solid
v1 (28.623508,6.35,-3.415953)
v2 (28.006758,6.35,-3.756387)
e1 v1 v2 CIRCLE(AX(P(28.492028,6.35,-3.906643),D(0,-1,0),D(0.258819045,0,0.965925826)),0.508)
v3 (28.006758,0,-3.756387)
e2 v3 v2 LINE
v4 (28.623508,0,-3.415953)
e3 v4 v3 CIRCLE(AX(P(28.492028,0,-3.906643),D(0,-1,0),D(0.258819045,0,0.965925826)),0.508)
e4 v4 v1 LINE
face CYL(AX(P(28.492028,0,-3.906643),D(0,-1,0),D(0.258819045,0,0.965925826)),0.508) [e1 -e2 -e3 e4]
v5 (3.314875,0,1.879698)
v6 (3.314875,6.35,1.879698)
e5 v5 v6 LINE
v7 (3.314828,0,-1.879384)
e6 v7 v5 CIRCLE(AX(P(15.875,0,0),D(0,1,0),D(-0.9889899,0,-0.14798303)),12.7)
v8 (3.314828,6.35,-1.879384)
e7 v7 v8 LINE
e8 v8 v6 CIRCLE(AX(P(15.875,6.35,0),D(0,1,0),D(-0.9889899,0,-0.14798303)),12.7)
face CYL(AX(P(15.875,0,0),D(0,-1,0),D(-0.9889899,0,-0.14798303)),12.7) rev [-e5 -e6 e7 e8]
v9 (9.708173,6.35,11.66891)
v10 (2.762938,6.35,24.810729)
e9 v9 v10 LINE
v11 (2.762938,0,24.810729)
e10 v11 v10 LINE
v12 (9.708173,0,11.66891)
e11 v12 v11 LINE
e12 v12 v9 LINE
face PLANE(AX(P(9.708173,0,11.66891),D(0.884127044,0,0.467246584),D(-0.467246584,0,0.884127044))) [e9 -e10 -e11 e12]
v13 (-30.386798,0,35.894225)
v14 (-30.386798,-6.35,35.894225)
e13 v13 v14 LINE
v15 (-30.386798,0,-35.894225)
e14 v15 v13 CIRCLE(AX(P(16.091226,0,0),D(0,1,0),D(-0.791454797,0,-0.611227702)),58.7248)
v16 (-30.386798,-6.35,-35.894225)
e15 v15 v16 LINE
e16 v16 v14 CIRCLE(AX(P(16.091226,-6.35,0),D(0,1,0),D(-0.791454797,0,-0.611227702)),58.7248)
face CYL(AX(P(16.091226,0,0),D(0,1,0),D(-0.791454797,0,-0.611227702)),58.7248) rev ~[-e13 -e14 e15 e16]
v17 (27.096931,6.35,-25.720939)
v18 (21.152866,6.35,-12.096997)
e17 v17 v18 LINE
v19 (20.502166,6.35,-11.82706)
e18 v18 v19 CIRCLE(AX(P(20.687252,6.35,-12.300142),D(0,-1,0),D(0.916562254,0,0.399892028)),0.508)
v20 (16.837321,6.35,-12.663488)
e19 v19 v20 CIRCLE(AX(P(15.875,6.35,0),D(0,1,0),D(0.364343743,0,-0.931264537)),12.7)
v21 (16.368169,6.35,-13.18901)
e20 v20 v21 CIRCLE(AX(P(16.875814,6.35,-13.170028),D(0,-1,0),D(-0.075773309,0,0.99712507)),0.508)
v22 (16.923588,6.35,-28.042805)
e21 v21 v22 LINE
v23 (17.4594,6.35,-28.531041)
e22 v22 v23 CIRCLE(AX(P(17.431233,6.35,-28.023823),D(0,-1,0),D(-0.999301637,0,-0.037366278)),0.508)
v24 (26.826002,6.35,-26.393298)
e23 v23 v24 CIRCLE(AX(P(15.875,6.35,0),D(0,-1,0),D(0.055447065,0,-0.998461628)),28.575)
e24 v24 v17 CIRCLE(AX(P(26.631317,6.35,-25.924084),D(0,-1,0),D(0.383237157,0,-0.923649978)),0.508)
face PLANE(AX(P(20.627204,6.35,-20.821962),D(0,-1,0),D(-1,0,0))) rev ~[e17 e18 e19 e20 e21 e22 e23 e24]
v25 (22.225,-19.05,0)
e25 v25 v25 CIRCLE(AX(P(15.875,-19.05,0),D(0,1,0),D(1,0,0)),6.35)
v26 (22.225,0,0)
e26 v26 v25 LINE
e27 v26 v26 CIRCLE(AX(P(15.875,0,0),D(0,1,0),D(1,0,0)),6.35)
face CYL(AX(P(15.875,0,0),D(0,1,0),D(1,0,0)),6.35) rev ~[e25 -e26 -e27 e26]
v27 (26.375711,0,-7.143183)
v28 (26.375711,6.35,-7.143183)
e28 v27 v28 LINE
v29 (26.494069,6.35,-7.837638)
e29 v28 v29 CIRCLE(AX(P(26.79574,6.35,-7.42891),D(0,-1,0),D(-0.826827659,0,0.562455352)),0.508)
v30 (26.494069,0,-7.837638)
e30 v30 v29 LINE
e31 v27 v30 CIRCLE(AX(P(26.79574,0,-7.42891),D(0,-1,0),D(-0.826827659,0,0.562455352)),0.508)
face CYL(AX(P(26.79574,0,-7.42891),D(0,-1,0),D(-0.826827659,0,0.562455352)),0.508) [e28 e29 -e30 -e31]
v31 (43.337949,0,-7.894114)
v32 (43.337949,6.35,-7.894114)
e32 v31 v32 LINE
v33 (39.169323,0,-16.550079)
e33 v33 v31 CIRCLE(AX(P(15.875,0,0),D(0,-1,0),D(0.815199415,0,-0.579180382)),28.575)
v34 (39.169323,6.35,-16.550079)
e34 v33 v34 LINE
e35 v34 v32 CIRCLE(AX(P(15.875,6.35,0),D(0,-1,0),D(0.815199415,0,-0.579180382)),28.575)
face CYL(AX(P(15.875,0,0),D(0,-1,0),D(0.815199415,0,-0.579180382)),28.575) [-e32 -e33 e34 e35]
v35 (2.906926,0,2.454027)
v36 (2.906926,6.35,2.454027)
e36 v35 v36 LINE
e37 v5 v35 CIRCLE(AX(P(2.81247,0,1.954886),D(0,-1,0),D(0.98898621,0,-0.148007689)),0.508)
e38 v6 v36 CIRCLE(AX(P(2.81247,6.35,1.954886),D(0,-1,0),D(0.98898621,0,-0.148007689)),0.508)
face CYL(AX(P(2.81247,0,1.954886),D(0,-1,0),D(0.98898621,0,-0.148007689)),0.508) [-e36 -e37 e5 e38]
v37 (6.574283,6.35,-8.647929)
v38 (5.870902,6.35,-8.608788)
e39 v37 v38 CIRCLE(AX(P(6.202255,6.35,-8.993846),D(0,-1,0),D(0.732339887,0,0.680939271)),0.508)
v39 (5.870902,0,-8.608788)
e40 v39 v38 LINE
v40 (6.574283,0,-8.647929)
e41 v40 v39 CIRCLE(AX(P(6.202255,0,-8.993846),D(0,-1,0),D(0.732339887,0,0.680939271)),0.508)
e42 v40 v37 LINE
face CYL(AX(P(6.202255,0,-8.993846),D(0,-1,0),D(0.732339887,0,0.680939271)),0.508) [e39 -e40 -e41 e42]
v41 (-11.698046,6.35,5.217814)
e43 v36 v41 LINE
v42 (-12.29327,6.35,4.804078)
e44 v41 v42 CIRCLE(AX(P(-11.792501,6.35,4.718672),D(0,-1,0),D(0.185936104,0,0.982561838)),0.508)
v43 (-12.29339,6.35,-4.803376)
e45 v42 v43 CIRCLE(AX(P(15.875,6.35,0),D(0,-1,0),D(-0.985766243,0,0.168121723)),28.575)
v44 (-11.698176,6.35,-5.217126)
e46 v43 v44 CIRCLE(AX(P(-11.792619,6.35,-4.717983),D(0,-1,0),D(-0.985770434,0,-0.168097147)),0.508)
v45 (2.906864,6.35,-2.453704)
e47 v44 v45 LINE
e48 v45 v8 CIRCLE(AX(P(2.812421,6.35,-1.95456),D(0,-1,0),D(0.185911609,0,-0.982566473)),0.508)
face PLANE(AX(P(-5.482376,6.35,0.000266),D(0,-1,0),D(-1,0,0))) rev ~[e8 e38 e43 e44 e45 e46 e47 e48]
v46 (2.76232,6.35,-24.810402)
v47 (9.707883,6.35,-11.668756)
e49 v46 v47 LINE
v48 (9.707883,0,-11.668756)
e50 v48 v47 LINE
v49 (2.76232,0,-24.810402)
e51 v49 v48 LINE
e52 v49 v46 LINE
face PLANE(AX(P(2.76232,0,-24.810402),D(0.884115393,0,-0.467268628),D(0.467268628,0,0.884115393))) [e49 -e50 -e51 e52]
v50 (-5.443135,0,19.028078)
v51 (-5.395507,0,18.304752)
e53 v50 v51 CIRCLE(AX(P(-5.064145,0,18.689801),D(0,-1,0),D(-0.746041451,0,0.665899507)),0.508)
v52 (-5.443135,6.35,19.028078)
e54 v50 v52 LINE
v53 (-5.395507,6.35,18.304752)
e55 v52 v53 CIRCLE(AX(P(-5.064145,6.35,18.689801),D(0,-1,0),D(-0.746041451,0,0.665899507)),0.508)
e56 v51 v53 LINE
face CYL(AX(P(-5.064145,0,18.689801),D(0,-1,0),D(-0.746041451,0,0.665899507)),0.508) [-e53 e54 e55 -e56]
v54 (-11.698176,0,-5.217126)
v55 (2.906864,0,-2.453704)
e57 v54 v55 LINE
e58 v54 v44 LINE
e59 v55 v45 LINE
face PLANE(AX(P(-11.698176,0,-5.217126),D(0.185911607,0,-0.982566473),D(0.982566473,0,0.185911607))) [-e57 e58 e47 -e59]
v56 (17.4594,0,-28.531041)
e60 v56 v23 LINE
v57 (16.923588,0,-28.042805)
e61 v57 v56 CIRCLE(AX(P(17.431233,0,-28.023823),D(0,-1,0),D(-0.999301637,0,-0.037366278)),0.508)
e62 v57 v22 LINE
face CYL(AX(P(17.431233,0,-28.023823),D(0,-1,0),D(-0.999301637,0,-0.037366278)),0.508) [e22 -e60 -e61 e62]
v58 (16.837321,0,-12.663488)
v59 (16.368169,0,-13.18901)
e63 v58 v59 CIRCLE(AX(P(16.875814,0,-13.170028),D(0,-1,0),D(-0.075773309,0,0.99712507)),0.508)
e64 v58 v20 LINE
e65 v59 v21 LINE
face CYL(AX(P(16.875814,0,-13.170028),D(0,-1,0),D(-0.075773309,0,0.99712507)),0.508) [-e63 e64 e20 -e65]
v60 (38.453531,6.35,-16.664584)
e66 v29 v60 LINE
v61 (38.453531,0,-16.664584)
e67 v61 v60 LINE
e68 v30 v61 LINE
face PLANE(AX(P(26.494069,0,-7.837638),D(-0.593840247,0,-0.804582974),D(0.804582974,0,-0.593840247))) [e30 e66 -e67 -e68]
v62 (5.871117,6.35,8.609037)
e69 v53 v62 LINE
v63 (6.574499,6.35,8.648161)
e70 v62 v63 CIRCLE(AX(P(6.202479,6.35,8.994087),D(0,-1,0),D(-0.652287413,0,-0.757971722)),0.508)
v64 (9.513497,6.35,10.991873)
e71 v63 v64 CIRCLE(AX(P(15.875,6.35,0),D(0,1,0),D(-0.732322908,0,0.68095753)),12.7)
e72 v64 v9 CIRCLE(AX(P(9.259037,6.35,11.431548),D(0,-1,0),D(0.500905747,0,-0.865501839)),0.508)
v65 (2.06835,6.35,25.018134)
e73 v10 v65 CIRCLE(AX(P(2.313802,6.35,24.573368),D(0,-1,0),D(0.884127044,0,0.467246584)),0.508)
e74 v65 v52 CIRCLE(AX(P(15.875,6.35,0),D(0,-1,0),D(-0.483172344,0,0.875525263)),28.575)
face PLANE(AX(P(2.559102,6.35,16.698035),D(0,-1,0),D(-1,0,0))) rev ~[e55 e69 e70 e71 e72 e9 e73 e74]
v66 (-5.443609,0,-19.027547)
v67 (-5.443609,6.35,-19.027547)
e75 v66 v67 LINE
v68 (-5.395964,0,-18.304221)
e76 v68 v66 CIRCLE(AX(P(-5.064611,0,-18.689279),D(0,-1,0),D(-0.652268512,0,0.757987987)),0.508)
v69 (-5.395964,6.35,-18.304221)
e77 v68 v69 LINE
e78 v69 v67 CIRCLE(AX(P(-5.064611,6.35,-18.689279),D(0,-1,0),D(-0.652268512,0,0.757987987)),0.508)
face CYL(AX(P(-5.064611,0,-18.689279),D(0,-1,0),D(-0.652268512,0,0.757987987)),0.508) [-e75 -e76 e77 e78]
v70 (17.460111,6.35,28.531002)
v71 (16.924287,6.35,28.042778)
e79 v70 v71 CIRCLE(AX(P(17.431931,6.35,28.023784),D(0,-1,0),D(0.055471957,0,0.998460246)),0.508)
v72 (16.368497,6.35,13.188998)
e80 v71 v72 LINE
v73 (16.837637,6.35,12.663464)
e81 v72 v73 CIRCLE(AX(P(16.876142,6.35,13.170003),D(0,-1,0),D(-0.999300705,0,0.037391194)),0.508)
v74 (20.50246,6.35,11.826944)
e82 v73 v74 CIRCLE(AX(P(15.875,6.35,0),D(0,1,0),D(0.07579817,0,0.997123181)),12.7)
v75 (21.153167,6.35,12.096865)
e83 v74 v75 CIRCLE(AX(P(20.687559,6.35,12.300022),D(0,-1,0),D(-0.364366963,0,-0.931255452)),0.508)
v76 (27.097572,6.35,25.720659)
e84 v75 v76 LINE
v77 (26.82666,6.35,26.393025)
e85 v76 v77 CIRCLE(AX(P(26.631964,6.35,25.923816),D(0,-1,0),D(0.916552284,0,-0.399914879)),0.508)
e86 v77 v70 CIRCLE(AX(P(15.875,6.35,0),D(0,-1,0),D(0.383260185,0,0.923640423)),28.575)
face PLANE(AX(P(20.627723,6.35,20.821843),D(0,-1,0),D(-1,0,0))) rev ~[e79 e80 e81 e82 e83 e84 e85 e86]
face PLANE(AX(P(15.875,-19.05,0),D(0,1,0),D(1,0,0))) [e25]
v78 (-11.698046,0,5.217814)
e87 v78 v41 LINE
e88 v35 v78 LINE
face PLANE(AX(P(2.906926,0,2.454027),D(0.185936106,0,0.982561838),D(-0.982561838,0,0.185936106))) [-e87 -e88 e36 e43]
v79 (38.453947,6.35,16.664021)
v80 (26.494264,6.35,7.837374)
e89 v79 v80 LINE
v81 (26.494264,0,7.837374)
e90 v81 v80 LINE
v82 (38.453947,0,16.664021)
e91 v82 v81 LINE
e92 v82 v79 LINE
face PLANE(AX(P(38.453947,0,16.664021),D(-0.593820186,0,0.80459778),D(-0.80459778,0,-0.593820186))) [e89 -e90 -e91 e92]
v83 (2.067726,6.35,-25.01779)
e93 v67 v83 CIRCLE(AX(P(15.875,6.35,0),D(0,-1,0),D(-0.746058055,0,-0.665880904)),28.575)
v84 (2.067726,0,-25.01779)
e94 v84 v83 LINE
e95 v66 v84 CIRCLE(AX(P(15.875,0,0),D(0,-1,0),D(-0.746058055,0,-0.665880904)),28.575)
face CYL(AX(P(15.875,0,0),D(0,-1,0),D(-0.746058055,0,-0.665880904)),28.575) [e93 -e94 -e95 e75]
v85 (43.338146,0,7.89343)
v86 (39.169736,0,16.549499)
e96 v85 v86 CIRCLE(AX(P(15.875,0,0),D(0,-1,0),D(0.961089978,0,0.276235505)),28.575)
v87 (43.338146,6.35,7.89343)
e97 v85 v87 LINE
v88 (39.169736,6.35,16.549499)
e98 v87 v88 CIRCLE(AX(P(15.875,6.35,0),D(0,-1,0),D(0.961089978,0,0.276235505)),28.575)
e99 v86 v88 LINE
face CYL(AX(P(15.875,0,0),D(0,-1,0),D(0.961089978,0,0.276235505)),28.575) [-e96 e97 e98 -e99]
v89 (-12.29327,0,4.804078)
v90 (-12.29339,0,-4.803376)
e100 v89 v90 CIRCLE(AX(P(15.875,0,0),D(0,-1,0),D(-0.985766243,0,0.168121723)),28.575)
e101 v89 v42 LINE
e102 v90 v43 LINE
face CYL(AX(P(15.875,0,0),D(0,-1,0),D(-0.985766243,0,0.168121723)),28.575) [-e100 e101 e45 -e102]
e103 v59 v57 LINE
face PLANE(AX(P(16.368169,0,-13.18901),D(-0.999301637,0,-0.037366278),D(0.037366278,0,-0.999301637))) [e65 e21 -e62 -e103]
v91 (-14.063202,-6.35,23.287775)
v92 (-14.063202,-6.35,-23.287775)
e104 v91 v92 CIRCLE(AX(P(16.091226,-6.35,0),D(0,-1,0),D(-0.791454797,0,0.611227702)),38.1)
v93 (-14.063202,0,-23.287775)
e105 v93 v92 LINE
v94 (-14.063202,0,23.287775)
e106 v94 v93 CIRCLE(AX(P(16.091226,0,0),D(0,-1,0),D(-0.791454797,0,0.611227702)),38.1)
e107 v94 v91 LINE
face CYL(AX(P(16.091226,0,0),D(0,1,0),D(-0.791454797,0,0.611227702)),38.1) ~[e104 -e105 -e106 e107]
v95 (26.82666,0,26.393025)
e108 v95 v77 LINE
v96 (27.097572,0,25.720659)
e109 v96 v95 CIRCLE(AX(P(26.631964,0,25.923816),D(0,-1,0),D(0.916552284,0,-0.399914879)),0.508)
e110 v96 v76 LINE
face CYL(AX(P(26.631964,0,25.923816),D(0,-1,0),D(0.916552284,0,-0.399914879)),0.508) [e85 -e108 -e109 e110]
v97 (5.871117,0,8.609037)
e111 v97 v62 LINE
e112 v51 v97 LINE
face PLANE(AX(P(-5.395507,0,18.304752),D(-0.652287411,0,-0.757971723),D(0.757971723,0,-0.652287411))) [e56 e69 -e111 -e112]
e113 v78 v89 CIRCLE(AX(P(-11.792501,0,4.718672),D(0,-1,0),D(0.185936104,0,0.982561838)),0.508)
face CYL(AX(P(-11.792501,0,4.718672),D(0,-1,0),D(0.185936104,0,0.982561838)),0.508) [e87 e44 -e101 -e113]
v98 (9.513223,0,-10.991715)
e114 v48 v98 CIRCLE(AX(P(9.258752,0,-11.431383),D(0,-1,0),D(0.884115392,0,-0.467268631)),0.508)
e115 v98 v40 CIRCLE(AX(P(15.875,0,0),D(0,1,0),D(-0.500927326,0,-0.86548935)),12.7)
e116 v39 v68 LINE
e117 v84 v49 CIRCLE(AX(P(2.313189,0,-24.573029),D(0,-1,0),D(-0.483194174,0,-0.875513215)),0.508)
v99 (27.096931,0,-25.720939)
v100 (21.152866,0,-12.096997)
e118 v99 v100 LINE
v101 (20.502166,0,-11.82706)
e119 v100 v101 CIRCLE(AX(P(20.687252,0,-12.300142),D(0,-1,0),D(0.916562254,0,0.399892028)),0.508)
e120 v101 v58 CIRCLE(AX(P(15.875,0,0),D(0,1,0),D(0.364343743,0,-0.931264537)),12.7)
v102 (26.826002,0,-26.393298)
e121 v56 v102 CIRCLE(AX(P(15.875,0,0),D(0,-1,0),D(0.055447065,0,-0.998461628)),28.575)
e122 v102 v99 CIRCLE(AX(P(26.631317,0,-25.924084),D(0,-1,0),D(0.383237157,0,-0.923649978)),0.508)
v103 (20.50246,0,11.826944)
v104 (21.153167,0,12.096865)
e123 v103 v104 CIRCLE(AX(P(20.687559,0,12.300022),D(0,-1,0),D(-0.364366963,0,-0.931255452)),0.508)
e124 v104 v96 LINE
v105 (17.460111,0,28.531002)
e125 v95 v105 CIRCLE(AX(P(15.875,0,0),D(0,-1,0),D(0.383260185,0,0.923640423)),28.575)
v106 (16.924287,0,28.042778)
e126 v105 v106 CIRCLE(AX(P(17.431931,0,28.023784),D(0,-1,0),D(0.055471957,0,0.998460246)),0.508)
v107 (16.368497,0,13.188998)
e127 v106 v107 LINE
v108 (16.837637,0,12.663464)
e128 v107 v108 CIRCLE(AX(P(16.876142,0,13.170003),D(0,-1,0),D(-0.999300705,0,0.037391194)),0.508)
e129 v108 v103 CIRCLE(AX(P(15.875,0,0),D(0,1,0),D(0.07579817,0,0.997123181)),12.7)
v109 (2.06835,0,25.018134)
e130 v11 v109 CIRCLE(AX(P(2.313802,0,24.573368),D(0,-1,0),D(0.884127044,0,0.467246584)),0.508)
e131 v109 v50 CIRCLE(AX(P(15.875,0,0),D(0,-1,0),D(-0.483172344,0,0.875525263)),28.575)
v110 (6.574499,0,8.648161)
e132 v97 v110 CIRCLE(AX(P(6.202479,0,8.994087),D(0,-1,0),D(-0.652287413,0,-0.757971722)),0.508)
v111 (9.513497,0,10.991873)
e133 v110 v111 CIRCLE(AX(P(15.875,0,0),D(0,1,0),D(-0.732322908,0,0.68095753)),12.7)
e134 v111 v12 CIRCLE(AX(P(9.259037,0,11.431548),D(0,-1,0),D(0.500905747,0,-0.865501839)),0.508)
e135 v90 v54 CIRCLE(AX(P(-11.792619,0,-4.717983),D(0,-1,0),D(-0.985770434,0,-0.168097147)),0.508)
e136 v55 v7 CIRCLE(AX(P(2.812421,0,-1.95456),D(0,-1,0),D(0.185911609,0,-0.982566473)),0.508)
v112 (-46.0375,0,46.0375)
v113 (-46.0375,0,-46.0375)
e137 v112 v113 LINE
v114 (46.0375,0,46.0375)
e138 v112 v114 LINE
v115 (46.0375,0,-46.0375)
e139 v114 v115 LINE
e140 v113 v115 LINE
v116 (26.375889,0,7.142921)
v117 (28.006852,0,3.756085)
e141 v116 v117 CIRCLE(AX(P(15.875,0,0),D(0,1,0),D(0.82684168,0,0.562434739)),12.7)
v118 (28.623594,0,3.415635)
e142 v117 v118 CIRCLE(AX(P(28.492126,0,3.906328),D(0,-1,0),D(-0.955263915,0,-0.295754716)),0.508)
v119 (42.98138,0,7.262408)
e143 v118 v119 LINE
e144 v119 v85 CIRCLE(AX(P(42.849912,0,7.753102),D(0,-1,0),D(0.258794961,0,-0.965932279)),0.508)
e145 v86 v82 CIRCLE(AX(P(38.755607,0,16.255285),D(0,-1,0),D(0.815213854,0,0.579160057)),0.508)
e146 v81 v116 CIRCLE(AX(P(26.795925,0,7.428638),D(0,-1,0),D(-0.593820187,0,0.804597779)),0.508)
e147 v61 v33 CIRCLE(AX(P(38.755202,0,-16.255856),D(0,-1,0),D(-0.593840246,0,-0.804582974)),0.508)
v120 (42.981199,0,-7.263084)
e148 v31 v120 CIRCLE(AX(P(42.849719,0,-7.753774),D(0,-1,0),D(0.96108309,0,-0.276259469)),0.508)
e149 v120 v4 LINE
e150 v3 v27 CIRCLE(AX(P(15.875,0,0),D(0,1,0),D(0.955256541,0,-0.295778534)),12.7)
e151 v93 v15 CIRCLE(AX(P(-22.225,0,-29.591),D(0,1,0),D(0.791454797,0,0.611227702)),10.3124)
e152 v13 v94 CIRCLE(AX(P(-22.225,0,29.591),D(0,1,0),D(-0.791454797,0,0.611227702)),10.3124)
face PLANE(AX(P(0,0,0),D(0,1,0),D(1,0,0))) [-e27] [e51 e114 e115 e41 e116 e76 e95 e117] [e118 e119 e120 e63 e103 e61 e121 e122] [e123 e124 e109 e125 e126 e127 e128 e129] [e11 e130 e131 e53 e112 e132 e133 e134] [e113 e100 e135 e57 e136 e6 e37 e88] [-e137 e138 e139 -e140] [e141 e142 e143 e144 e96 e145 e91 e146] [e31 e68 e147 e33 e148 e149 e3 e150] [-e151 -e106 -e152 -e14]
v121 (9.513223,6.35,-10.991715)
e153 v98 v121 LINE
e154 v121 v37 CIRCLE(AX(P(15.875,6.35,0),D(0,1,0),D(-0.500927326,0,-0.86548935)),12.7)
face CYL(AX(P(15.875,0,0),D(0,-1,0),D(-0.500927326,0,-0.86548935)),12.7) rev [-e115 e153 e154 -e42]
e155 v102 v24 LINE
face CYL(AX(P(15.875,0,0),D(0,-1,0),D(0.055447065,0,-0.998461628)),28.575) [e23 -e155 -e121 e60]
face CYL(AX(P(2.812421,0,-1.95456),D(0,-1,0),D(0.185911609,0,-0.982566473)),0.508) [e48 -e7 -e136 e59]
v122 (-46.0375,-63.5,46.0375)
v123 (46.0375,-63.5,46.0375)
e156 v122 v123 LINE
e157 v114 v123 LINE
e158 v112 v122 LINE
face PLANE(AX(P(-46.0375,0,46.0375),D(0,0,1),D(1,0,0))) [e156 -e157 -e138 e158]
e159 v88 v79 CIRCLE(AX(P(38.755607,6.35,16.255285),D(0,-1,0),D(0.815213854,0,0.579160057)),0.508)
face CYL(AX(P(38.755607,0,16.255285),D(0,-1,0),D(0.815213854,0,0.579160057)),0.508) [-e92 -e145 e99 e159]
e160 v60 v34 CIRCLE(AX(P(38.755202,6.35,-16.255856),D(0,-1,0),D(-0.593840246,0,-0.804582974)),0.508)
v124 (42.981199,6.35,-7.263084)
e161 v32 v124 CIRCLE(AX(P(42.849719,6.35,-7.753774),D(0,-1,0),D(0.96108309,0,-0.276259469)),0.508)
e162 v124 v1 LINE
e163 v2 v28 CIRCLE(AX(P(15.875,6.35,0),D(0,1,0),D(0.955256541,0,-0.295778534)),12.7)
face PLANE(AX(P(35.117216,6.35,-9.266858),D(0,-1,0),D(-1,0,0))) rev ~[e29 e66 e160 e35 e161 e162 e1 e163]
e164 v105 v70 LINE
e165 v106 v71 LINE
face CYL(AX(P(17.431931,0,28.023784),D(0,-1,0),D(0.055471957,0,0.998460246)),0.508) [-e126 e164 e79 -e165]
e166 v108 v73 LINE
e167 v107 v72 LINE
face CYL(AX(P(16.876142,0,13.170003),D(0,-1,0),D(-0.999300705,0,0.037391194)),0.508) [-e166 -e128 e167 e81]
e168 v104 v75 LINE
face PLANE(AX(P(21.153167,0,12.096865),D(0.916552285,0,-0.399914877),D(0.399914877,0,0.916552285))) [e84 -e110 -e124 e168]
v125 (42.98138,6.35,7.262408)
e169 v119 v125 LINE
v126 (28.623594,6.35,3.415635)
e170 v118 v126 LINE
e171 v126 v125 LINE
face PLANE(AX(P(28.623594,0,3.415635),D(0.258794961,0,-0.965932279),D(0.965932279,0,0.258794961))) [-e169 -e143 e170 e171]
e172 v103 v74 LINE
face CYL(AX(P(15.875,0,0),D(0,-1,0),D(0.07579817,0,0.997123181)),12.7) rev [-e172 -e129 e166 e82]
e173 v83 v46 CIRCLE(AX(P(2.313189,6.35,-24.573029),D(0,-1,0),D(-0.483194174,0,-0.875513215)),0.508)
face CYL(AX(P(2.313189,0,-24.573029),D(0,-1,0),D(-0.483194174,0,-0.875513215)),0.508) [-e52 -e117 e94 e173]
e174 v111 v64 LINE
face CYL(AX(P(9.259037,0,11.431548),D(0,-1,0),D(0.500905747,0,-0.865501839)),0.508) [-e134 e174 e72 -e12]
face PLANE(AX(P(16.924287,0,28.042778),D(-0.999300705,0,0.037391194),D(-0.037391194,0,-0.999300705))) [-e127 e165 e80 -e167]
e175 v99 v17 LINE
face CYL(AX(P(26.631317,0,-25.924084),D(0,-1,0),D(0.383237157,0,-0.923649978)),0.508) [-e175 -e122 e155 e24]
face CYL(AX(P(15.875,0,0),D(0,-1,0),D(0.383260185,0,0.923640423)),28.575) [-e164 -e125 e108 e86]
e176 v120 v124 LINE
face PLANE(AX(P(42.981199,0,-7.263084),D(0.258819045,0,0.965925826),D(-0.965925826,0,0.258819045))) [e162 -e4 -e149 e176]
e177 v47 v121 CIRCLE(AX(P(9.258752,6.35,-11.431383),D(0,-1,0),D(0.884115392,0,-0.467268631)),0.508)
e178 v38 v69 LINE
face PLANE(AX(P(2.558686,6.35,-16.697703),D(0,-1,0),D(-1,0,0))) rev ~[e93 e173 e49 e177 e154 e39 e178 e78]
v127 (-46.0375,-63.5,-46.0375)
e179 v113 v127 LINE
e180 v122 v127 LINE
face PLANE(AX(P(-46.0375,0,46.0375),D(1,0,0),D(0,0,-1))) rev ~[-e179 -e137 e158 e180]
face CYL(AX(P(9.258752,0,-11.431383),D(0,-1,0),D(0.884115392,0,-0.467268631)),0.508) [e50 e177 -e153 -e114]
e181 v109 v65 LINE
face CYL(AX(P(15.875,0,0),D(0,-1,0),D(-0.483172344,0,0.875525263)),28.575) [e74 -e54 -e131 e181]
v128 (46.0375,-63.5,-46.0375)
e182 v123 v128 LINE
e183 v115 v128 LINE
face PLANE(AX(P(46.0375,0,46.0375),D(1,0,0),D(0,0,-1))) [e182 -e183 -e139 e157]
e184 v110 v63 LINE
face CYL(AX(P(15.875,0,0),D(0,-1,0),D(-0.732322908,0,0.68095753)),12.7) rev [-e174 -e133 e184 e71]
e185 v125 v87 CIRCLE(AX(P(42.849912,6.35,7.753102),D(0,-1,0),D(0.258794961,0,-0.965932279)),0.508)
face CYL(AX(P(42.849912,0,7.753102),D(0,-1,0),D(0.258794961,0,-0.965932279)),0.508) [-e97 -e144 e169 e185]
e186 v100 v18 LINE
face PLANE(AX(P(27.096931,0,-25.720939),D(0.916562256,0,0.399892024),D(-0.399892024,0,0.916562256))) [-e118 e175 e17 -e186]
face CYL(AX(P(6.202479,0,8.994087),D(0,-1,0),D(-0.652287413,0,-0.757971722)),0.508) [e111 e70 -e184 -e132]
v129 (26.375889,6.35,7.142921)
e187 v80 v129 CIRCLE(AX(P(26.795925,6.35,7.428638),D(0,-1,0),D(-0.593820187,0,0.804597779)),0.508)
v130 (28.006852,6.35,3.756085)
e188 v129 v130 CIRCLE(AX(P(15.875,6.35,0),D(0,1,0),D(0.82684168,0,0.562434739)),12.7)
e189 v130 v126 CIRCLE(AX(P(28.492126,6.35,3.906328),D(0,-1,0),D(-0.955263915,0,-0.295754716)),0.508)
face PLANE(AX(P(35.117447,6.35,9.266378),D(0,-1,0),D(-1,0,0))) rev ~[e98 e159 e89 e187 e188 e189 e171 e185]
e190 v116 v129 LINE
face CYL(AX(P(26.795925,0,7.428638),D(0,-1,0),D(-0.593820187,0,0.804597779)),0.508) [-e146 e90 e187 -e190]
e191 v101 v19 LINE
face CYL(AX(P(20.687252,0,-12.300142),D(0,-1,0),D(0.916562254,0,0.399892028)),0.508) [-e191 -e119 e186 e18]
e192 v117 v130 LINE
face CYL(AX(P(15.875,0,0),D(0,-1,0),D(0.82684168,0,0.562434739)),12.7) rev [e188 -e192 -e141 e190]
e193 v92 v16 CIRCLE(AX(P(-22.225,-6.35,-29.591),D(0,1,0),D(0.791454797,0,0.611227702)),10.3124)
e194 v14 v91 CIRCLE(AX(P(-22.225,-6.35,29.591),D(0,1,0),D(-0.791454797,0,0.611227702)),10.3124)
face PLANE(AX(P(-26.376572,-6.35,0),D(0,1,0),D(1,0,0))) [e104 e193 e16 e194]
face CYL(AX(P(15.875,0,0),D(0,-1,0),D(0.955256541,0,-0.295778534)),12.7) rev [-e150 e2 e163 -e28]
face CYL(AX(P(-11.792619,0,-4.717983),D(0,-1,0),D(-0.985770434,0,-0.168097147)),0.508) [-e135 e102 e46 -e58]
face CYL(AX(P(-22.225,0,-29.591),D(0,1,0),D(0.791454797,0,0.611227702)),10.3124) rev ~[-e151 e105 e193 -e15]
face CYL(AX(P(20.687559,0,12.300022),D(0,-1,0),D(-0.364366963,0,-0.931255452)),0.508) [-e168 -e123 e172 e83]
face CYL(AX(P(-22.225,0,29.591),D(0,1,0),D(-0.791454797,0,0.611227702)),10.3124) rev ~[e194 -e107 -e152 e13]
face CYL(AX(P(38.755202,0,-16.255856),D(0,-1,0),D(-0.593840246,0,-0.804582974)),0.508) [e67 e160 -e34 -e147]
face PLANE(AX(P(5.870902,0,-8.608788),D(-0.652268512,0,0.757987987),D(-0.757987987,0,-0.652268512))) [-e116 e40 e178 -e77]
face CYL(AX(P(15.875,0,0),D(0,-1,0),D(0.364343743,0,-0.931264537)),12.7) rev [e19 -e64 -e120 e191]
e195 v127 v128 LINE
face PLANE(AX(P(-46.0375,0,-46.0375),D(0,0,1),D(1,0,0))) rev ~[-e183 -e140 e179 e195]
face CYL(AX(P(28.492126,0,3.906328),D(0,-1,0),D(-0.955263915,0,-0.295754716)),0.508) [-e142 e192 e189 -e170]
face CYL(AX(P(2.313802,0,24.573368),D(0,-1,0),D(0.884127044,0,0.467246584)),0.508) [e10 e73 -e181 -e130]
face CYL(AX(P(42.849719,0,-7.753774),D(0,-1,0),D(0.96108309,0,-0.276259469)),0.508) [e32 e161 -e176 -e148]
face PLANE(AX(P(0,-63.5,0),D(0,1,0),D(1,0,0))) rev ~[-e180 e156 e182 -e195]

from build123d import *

# Parameters (mm, degrees)
SKETCH1_W           = 92.075
SKETCH1_H           = 92.075
BOSS_EXTRUDE1_DEPTH = 63.5
CUT_EXTRUDE1_DEPTH  = 6.35
BOSS_EXTRUDE2_DEPTH = 6.35
SKETCH5_R           = 6.35
CUT_EXTRUDE2_DEPTH  = 19.05


with BuildPart() as part:
    # Sketch1 → Boss-Extrude1 (new body)
    with BuildSketch(Plane(origin=(0, 0, 0), x_dir=(1, 0, 0), z_dir=(0, 1, 0))):
        Rectangle(SKETCH1_W, SKETCH1_H)
    extrude(amount=-BOSS_EXTRUDE1_DEPTH)

    # Sketch3 → Cut-Extrude1 (cut)
    with BuildSketch(Plane(origin=(0, 0, 0), x_dir=(1, 0, 0), z_dir=(0, 1, 0))):
        with BuildLine():
            ThreePointArc((-14.063201547, 23.287775446), (-15.921775446, 37.752798453), (-30.386798453, 35.894224554))
            ThreePointArc((-30.386798453, 35.894224554), (-42.633573767, 0), (-30.386798453, -35.894224554))
            ThreePointArc((-30.386798453, -35.894224554), (-15.921775446, -37.752798453), (-14.063201547, -23.287775446))
            ThreePointArc((-14.063201547, -23.287775446), (-22.008773767, 0), (-14.063201547, 23.287775446))
        make_face()
    extrude(amount=-CUT_EXTRUDE1_DEPTH, mode=Mode.SUBTRACT)

    # Sketch4 → Boss-Extrude2 (add)
    with BuildSketch(Plane(origin=(0, 0, 0), x_dir=(1, 0, 0), z_dir=(0, 1, 0))):
        with BuildLine():
            Line((42.981199166, 7.263084177), (28.623508469, 3.415952549))
            ThreePointArc((28.623508469, 3.415952549), (28.246537351, 3.461897832), (28.006758071, 3.756387374))
            ThreePointArc((28.006758071, 3.756387374), (27.317235926, 5.510466133), (26.375711245, 7.143182998))
            ThreePointArc((26.375711245, 7.143182998), (26.294960734, 7.5142592), (26.49406885, 7.837638468))
            Line((26.49406885, 7.837638468), (38.453531121, 16.664583926))
            ThreePointArc((38.453531121, 16.664583926), (38.835445953, 16.757478046), (39.169323269, 16.550079409))
            ThreePointArc((39.169323269, 16.550079409), (41.620030834, 12.3985488), (43.337949301, 7.894114306))
            ThreePointArc((43.337949301, 7.894114306), (43.291940716, 7.503766427), (42.981199166, 7.263084177))
        make_face()
        with BuildLine():
            Line((27.096930878, 25.720938792), (21.152865774, 12.096996853))
            ThreePointArc((21.152865774, 12.096996853), (20.881906657, 11.830915381), (20.502165527, 11.827059617))
            ThreePointArc((20.502165527, 11.827059617), (18.700861504, 12.381619715), (16.837321021, 12.663488392))
            ThreePointArc((16.837321021, 12.663488392), (16.496854843, 12.831717328), (16.368168631, 13.189009997))
            Line((16.368168631, 13.189009997), (16.923587539, 28.042804588))
            ThreePointArc((16.923587539, 28.042804588), (17.089079994, 28.399316164), (17.45939988, 28.531041026))
            ThreePointArc((17.45939988, 28.531041026), (22.233188385, 27.858644358), (26.826001728, 26.39329813))
            ThreePointArc((26.826001728, 26.39329813), (27.102502105, 26.113949248), (27.096930878, 25.720938792))
        make_face()
        with BuildLine():
            Line((2.762319753, 24.810401886), (9.707882502, 11.668755794))
            ThreePointArc((9.707882502, 11.668755794), (9.746973129, 11.291012341), (9.513222964, 10.991714741))
            ThreePointArc((9.513222964, 10.991714741), (7.956555733, 9.929161112), (6.57428344, 8.647928739))
            ThreePointArc((6.57428344, 8.647928739), (6.230479572, 8.486630588), (5.870902373, 8.608787991))
            Line((5.870902373, 8.608787991), (-5.395963847, 18.304221426))
            ThreePointArc((-5.395963847, 18.304221426), (-5.571512963, 18.65588997), (-5.443608935, 19.027546823))
            ThreePointArc((-5.443608935, 19.027546823), (-1.941499602, 22.340612501), (2.067726493, 25.017790136))
            ThreePointArc((2.067726493, 25.017790136), (2.458525409, 25.059795657), (2.762319753, 24.810401886))
        make_face()
        with BuildLine():
            Line((-11.698175696, 5.21712632), (2.906864493, 2.453703622))
            ThreePointArc((2.906864493, 2.453703622), (3.226568823, 2.248746714), (3.314828266, 1.879384474))
            ThreePointArc((3.314828266, 1.879384474), (3.175000001, -0.000158326), (3.314875129, -1.87969764))
            ThreePointArc((3.314875129, -1.87969764), (3.226624896, -2.24906208), (2.906925676, -2.454026959))
            Line((2.906925676, -2.454026959), (-11.698045607, -5.217813808))
            ThreePointArc((-11.698045607, -5.217813808), (-12.08244423, -5.135801882), (-12.293270401, -4.804078229))
            ThreePointArc((-12.293270401, -4.804078229), (-12.699999998, -0.000356234), (-12.293390173, 4.803375901))
            ThreePointArc((-12.293390173, 4.803375901), (-12.082572273, 5.13510481), (-11.698175696, 5.21712632))
        make_face()
        with BuildLine():
            Line((-5.395507456, -18.304751776), (5.871117022, -8.609037424))
            ThreePointArc((5.871117022, -8.609037424), (6.230691175, -8.486871055), (6.574499064, -8.648160634))
            ThreePointArc((6.574499064, -8.648160634), (7.956803301, -9.929358541), (9.513497025, -10.991873357))
            ThreePointArc((9.513497025, -10.991873357), (9.747254652, -11.291165129), (9.708173444, -11.668909556))
            Line((9.708173444, -11.668909556), (2.762938362, -24.81072882))
            ThreePointArc((2.762938362, -24.81072882), (2.459150236, -25.060130166), (2.068350273, -25.018134389))
            ThreePointArc((2.068350273, -25.018134389), (-1.940942572, -22.341056718), (-5.443134509, -19.02807836))
            ThreePointArc((-5.443134509, -19.02807836), (-5.571047804, -18.656424696), (-5.395507456, -18.304751776))
        make_face()
        with BuildLine():
            Line((16.924286738, -28.042778435), (16.368497476, -13.188997697))
            ThreePointArc((16.368497476, -13.188997697), (16.49717478, -12.831701819), (16.837636763, -12.663464394))
            ThreePointArc((16.837636763, -12.663464394), (18.701170218, -12.381549253), (20.502460413, -11.826944243))
            ThreePointArc((20.502460413, -11.826944243), (20.882201639, -11.830790538), (21.15316739, -12.096865255))
            Line((21.15316739, -12.096865255), (27.097572182, -25.720658985))
            ThreePointArc((27.097572182, -25.720658985), (27.103153208, -26.113669301), (26.826659795, -26.393025077))
            ThreePointArc((26.826659795, -26.393025077), (22.23388299, -27.858485819), (17.460111251, -28.531001513))
            ThreePointArc((17.460111251, -28.531001513), (17.089788082, -28.399285884), (16.924286738, -28.042778435))
        make_face()
        with BuildLine():
            Line((38.453946616, -16.664020964), (26.494264265, -7.837373698))
            ThreePointArc((26.494264265, -7.837373698), (26.295148086, -7.513999394), (26.375889345, -7.142921178))
            ThreePointArc((26.375889345, -7.142921178), (27.317373317, -5.510180839), (28.006851726, -3.756084888))
            ThreePointArc((28.006851726, -3.756084888), (28.246623663, -3.461589368), (28.623593636, -3.415634686))
            Line((28.623593636, -3.415634686), (42.98138025, -7.262408328))
            ThreePointArc((42.98138025, -7.262408328), (43.292127801, -7.503082831), (43.338146119, -7.893429562))
            ThreePointArc((43.338146119, -7.893429562), (41.620339963, -12.397906888), (39.169735909, -16.549498601))
            ThreePointArc((39.169735909, -16.549498601), (38.835863765, -16.756905562), (38.453946616, -16.664020964))
        make_face()
    extrude(amount=BOSS_EXTRUDE2_DEPTH)

    # Sketch5 → Cut-Extrude2 (cut)
    with BuildSketch(Plane(origin=(0, 0, 0), x_dir=(1, 0, 0), z_dir=(0, 1, 0))):
        with Locations((15.875, 0)):
            Circle(SKETCH5_R)
    extrude(amount=-CUT_EXTRUDE2_DEPTH, mode=Mode.SUBTRACT)


solid = part.part
